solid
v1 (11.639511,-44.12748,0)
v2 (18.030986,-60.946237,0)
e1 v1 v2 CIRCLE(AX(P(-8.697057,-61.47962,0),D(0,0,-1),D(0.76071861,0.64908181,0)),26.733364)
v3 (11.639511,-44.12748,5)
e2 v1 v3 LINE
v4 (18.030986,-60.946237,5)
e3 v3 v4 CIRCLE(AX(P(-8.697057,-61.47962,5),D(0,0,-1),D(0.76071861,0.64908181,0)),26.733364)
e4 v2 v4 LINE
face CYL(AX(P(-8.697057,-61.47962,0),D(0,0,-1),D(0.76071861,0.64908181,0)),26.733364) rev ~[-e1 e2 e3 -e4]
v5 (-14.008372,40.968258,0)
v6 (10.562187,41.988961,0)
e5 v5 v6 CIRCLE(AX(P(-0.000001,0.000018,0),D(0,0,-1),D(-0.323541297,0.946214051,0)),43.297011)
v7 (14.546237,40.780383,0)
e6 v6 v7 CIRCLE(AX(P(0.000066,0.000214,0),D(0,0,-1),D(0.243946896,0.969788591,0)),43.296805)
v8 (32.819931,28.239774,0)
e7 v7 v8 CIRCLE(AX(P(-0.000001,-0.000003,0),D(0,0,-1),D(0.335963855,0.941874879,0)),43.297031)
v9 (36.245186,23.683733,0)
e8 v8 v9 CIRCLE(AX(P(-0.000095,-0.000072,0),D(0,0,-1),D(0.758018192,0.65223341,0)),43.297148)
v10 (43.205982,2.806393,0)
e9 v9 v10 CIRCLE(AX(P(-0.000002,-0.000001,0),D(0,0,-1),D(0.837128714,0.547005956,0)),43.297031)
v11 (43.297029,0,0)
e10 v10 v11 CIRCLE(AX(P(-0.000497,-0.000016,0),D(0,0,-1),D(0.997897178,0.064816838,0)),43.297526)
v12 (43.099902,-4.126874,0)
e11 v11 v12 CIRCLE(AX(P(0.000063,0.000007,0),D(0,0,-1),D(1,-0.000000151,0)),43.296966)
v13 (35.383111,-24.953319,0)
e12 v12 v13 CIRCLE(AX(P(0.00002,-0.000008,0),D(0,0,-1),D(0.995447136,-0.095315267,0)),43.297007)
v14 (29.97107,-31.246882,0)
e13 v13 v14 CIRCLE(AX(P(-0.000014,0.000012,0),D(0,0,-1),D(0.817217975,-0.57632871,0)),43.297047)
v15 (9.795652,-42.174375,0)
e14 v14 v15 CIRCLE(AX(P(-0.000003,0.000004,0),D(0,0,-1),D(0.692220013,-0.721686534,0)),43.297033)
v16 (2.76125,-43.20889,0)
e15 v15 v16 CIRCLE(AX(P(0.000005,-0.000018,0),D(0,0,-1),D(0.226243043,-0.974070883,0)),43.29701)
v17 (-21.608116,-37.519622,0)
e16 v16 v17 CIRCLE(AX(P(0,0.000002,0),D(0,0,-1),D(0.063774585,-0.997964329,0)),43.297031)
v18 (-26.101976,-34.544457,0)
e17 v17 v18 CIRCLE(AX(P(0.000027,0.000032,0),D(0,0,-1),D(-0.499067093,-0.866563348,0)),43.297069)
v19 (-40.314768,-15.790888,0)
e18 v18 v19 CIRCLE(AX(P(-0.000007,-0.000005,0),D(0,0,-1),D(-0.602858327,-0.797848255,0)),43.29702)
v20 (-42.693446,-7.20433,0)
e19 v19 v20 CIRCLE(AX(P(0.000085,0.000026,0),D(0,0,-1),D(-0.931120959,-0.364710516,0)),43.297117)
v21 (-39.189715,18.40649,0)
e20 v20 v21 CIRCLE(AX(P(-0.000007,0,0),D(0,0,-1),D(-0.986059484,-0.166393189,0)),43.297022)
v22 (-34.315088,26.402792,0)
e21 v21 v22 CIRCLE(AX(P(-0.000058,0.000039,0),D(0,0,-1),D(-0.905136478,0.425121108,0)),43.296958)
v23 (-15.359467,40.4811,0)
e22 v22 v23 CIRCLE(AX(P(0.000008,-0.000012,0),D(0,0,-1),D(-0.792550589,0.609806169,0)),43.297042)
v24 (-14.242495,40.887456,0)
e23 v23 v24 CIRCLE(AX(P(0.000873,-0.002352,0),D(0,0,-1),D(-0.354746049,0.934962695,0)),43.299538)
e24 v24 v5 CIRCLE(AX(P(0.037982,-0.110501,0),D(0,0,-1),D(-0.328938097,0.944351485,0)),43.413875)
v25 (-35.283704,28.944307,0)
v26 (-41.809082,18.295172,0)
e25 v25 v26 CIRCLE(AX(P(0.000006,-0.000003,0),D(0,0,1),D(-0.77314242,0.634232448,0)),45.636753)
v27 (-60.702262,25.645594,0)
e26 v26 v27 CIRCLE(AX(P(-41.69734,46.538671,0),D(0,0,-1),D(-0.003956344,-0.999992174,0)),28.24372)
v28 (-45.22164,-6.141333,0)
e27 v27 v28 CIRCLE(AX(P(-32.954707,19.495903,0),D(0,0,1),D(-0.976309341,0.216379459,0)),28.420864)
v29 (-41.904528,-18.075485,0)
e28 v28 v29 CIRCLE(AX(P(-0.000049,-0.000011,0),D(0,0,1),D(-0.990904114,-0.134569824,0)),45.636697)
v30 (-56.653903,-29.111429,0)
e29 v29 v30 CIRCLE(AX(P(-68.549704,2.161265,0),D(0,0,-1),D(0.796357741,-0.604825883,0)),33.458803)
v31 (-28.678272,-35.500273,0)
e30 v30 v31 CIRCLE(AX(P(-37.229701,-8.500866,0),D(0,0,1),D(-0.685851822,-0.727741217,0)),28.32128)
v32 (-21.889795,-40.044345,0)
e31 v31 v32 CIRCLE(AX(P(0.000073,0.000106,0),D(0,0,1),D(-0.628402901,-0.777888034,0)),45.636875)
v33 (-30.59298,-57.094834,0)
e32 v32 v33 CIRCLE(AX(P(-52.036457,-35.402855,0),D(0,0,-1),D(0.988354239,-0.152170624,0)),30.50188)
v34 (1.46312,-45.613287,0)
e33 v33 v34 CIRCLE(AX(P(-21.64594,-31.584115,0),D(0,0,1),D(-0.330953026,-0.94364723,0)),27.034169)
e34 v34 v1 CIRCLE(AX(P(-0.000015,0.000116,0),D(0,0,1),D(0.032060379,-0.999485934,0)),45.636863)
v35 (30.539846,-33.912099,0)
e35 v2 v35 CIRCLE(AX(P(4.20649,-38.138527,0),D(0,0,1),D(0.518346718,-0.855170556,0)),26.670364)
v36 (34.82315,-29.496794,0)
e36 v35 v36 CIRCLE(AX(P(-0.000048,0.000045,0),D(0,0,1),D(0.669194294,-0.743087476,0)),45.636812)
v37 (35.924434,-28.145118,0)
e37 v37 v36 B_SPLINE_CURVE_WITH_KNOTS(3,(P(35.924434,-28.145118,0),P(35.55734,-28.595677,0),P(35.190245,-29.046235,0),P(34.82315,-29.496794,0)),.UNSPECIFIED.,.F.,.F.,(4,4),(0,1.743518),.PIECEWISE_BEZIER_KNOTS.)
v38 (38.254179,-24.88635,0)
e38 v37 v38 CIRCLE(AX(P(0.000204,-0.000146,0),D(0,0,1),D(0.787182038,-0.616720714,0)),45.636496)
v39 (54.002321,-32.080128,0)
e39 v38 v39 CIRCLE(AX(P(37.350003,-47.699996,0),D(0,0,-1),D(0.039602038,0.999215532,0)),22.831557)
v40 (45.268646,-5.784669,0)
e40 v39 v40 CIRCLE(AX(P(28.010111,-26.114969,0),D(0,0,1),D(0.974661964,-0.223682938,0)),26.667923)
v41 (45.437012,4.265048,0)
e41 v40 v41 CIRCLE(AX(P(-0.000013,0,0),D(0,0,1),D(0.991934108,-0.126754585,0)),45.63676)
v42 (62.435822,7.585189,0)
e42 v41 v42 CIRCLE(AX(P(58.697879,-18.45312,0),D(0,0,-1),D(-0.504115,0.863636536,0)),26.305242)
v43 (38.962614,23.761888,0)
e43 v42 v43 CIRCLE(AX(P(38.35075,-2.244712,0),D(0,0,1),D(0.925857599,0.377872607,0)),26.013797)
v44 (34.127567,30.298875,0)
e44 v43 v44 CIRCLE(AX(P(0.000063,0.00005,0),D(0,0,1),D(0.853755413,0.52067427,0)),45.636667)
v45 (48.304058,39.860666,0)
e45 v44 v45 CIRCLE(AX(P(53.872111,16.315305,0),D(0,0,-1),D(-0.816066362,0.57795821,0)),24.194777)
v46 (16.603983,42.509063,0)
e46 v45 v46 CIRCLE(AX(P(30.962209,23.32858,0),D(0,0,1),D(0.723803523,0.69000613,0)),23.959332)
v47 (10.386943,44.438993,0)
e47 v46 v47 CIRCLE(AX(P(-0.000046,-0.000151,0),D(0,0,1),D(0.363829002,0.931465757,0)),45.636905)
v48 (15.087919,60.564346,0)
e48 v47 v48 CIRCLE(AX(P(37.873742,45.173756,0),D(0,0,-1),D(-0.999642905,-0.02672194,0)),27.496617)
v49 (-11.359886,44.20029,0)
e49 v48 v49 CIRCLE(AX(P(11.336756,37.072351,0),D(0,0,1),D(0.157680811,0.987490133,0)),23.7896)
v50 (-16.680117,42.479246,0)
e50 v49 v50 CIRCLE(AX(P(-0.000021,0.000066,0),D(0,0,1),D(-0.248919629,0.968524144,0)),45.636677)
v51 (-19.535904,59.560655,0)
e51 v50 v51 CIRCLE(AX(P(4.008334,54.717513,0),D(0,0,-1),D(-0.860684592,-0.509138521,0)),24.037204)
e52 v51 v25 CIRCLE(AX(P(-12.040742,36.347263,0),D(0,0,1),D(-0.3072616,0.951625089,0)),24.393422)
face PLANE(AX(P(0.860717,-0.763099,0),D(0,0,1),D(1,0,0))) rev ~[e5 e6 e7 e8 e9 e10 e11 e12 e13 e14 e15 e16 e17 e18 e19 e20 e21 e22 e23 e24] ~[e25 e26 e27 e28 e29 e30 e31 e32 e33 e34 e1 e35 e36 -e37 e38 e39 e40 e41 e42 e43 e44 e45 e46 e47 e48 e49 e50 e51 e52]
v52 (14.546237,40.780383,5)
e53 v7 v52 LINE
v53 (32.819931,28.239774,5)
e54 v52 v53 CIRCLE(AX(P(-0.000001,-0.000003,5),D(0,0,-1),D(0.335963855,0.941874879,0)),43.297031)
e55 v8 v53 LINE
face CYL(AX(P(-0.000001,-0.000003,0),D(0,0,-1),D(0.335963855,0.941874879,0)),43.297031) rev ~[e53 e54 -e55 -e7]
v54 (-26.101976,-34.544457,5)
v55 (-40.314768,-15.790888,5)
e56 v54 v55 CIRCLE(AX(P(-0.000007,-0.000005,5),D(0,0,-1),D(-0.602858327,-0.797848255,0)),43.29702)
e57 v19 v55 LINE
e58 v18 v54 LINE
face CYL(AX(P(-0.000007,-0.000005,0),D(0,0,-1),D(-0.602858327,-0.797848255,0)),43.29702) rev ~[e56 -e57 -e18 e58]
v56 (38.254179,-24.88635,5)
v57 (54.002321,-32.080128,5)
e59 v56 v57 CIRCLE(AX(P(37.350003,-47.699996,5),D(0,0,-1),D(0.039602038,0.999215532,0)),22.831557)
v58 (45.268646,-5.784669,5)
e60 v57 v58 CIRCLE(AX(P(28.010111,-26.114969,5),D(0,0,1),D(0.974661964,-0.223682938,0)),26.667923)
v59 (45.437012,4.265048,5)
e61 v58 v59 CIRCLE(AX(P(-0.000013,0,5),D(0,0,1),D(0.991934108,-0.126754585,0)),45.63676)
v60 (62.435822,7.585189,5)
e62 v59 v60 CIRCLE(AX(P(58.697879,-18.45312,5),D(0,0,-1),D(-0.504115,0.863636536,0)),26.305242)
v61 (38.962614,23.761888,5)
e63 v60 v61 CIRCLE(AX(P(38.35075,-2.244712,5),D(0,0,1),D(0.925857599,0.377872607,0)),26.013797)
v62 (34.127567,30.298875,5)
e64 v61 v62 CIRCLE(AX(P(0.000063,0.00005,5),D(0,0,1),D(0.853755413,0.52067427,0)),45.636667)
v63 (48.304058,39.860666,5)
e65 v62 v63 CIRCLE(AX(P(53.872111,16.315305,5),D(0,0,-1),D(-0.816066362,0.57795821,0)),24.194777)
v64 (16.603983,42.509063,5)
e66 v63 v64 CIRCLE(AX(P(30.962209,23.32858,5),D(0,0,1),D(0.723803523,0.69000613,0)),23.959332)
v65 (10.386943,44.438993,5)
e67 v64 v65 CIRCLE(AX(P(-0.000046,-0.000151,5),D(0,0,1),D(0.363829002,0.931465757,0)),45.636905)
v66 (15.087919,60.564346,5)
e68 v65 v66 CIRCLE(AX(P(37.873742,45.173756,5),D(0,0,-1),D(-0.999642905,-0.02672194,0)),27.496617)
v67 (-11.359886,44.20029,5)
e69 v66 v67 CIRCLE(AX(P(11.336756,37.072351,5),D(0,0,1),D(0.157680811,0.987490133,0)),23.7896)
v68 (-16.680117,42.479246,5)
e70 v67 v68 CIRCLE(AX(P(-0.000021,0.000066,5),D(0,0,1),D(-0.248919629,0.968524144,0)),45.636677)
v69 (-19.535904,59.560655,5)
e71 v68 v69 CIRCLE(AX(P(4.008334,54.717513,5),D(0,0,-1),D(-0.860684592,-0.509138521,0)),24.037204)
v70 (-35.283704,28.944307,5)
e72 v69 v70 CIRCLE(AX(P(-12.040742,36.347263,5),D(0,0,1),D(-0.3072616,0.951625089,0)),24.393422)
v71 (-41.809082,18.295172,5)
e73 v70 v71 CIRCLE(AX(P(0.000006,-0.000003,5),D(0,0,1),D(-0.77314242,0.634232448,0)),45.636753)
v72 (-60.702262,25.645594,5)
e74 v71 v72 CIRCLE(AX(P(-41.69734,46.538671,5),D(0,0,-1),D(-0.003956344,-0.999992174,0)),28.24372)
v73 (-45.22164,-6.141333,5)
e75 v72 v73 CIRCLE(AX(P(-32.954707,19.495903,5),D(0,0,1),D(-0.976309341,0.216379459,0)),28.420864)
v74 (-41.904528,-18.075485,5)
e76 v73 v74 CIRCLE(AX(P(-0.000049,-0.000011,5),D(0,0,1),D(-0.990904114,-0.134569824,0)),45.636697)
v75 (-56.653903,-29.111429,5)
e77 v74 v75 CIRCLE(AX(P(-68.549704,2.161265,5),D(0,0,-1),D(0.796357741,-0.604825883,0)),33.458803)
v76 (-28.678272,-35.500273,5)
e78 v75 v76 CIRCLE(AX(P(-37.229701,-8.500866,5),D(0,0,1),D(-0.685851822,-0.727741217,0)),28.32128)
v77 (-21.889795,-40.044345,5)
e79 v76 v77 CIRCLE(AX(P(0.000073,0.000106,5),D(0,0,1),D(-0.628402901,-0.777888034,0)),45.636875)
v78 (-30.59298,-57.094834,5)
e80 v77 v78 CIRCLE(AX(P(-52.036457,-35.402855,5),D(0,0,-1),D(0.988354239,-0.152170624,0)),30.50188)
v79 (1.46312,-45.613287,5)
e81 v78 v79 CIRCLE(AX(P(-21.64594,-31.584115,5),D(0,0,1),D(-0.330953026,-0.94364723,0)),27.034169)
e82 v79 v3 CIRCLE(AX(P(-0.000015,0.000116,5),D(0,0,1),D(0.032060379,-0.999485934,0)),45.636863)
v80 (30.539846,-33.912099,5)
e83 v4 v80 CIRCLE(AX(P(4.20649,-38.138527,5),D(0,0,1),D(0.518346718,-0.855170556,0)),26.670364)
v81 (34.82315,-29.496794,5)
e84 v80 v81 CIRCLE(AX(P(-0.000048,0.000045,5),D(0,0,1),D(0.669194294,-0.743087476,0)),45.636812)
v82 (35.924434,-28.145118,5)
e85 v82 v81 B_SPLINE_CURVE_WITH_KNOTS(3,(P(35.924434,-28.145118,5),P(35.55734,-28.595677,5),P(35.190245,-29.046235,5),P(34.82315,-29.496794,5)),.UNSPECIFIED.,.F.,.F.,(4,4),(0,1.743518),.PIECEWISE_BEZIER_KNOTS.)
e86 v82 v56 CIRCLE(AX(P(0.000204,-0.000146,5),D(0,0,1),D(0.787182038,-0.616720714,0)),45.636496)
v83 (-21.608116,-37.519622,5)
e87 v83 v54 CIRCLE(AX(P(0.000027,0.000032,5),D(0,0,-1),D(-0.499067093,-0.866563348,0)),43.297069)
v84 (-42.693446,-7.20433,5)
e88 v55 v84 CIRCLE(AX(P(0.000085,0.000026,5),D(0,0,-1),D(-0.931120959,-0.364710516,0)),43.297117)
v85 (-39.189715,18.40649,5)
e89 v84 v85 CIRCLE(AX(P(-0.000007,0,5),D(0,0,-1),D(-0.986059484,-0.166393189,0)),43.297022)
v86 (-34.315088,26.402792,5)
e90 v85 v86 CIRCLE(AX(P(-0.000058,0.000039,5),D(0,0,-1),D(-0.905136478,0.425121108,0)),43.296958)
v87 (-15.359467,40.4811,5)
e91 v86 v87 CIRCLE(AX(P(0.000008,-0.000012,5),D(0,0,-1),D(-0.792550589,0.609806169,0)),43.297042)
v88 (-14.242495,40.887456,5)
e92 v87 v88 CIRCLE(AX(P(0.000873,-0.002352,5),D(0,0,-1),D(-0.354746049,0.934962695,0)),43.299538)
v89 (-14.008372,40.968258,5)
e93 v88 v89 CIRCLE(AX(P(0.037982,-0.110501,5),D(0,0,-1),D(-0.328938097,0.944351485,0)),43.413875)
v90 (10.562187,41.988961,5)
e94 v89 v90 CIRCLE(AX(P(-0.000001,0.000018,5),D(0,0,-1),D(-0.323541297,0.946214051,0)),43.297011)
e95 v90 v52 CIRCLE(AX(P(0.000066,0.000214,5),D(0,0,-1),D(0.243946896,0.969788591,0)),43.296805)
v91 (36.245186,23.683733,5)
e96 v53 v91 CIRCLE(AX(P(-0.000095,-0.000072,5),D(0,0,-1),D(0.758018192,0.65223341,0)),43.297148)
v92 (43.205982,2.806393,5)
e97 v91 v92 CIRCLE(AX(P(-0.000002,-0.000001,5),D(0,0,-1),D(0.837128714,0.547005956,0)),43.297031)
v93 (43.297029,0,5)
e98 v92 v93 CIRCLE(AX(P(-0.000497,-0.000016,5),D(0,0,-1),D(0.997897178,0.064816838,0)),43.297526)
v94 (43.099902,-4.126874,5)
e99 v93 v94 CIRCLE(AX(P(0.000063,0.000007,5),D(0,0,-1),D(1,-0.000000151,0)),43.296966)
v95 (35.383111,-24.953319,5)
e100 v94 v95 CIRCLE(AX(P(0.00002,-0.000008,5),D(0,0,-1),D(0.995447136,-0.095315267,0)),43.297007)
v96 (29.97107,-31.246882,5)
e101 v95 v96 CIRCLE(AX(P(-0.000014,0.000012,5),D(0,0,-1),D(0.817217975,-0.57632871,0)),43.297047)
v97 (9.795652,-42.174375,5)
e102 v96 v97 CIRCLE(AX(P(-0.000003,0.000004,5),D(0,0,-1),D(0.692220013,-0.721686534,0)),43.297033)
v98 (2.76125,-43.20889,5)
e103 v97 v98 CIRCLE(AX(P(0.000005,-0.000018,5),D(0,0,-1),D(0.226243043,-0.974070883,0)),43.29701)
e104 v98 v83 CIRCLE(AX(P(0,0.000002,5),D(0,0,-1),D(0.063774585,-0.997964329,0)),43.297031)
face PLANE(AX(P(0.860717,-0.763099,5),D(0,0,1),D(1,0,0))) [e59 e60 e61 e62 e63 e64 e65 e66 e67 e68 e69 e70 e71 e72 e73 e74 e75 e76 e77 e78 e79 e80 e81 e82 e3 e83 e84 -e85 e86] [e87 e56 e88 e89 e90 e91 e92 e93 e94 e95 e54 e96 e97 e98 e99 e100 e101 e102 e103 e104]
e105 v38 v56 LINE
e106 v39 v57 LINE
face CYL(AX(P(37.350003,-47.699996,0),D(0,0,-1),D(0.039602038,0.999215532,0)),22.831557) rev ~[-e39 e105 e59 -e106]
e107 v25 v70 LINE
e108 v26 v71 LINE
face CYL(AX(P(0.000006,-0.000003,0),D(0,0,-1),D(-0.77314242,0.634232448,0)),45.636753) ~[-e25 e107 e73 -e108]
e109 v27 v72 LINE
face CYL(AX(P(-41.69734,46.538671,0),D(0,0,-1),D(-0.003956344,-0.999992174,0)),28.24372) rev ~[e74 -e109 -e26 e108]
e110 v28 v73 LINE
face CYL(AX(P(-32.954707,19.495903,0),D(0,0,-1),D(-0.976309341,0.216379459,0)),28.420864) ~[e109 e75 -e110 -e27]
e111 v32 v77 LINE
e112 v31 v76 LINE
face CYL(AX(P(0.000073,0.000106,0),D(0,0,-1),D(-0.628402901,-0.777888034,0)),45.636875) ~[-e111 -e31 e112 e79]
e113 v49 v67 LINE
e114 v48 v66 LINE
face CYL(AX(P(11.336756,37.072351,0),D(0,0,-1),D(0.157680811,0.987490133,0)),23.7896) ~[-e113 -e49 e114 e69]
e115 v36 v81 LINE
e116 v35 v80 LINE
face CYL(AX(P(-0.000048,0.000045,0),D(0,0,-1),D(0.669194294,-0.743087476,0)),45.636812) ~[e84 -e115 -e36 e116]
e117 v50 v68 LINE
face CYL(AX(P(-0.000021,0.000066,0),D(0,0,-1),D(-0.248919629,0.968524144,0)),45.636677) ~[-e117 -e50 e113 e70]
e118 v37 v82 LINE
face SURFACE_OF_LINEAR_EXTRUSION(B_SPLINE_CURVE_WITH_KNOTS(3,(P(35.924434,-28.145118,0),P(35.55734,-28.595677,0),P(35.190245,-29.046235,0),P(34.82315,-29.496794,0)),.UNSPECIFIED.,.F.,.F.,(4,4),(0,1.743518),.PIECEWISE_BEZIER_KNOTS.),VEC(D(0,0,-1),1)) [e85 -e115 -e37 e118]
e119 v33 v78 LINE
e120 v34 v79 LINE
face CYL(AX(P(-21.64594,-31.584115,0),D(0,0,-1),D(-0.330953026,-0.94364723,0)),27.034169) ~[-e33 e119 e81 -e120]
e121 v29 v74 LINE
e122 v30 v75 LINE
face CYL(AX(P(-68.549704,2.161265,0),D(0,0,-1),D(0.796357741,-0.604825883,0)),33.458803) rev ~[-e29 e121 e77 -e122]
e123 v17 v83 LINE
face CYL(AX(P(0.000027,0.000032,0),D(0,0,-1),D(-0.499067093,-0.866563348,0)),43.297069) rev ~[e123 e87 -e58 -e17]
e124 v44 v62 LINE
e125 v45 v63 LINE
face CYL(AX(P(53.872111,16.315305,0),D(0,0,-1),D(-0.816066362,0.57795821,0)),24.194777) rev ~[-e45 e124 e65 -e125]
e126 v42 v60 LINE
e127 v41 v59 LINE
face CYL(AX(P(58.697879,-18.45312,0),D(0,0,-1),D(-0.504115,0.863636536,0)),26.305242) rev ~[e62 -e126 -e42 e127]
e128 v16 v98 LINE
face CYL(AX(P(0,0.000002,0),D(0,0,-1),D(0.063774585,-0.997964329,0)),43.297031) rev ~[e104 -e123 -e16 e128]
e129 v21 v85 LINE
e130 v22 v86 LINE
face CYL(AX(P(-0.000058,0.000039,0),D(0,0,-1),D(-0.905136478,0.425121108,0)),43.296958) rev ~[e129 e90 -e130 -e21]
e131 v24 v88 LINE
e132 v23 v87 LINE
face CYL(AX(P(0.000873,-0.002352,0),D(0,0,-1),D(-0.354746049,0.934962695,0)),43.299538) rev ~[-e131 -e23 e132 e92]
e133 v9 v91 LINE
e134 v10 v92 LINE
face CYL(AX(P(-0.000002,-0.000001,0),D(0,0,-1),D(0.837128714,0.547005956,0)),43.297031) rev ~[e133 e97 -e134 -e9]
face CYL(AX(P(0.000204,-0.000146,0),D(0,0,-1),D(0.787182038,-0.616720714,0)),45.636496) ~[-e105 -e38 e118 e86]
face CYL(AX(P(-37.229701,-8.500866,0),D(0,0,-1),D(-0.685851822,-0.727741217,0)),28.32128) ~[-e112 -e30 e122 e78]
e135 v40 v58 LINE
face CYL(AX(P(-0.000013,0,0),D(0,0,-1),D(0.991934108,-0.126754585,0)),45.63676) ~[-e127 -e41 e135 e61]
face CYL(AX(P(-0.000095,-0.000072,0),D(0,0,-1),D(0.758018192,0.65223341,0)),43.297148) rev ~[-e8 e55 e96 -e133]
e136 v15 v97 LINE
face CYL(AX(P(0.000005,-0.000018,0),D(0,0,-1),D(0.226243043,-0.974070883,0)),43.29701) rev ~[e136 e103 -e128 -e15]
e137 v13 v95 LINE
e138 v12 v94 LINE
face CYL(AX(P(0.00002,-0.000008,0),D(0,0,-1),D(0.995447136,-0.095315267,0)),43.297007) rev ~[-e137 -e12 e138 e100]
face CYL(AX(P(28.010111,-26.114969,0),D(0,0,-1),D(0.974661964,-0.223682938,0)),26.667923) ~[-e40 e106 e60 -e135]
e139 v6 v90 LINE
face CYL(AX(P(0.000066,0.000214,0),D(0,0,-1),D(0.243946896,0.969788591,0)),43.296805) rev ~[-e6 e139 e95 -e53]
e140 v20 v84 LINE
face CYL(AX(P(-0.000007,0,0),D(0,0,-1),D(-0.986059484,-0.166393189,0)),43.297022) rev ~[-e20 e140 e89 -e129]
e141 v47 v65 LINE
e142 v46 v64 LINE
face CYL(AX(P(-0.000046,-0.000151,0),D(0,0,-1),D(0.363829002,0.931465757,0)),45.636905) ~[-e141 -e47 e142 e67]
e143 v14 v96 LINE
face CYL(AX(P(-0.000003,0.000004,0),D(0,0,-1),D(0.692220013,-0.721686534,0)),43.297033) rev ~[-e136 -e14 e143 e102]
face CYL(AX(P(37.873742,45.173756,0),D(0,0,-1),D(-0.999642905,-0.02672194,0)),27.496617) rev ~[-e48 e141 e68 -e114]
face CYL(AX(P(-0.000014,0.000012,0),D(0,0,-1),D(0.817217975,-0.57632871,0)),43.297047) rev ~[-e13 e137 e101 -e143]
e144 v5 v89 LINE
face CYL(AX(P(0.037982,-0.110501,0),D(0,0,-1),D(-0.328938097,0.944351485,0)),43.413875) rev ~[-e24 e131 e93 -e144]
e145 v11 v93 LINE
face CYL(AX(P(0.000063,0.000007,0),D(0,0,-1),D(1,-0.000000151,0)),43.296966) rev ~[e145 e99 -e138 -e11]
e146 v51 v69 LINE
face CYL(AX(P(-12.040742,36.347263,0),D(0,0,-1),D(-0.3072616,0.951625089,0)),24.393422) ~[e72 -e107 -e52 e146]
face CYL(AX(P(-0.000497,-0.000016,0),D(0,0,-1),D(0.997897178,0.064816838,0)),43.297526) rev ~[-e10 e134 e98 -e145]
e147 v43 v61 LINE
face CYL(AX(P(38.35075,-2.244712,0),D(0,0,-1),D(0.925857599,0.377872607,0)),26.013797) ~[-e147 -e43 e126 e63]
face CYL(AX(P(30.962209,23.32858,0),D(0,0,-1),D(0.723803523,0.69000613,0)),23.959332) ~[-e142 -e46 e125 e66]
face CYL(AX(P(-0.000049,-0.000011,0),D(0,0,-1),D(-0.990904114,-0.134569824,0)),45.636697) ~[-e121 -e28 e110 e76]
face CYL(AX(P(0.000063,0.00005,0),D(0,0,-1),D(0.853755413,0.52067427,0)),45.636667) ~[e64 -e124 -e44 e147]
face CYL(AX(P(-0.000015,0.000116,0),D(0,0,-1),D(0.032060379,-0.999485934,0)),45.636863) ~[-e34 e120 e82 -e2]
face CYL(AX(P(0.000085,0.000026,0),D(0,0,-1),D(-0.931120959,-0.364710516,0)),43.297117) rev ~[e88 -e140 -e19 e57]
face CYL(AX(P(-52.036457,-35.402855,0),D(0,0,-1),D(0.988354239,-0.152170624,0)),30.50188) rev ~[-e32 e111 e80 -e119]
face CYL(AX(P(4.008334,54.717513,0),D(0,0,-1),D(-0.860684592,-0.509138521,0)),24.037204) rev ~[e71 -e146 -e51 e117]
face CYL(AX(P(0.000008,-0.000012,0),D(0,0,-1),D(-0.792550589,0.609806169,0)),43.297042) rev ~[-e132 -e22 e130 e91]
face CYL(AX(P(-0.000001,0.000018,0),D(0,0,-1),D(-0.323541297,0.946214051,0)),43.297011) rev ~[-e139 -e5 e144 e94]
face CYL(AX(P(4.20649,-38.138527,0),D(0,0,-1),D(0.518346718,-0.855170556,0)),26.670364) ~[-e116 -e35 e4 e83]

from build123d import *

# Parameters (mm, degrees)
F1_DEPTH = 5


with BuildPart() as f1:
    # F0 (on Top) → F1 (new body)
    with BuildSketch(Plane.XY):
        with BuildLine():
            ThreePointArc((38.502261, -1.597772), (40.718756, 0.748882), (43.205982, 2.806393))
            ThreePointArc((43.205982, 2.806393), (41.074175, 13.694702), (36.245186, 23.683733))
            ThreePointArc((36.245186, 23.683733), (34.607614, 26.018181), (32.819931, 28.239774))
            ThreePointArc((32.819931, 28.239774), (24.499086, 35.699124), (14.546237, 40.780383))
            ThreePointArc((14.546237, 40.780383), (12.950133, 39.127779), (11.519659, 37.329894))
            ThreePointArc((11.519659, 37.329894), (10.939992, 39.638686), (10.562187, 41.988961))
            ThreePointArc((10.562187, 41.988961), (-1.797083, 43.259718), (-14.008372, 40.968258))
            ThreePointArc((-14.008372, 40.968258), (-14.033128, 40.846587), (-14.058419, 40.725026))
            ThreePointArc((-14.058419, 40.725026), (-14.150281, 40.80644), (-14.242495, 40.887456))
            ThreePointArc((-14.242495, 40.887456), (-14.802375, 40.688111), (-15.359467, 40.4811))
            ThreePointArc((-15.359467, 40.4811), (-25.8155, 34.759065), (-34.315088, 26.402792))
            ThreePointArc((-34.315088, 26.402792), (-36.969234, 22.536824), (-39.189715, 18.40649))
            ThreePointArc((-39.189715, 18.40649), (-42.897454, 5.868657), (-42.693446, -7.20433))
            ThreePointArc((-42.693446, -7.20433), (-41.725569, -11.558959), (-40.314768, -15.790888))
            ThreePointArc((-40.314768, -15.790888), (-34.506812, -26.151723), (-26.101976, -34.544457))
            ThreePointArc((-26.101976, -34.544457), (-23.851243, -33.463072), (-21.70451, -32.187641))
            ThreePointArc((-21.70451, -32.187641), (-21.539561, -34.851521), (-21.608116, -37.519622))
            ThreePointArc((-21.608116, -37.519622), (-9.843426, -42.16325), (2.76125, -43.20889))
            ThreePointArc((2.76125, -43.20889), (3.776863, -40.777994), (4.55104, -38.259785))
            ThreePointArc((4.55104, -38.259785), (7.293587, -40.055986), (9.795652, -42.174375))
            ThreePointArc((9.795652, -42.174375), (20.620392, -38.071408), (29.97107, -31.246882))
            ThreePointArc((29.97107, -31.246882), (29.244852, -28.952192), (28.314719, -26.732316))
            ThreePointArc((28.314719, -26.732316), (31.777465, -25.55893), (35.383111, -24.953319))
            ThreePointArc((35.383111, -24.953319), (40.599644, -15.043325), (43.099902, -4.126874))
            ThreePointArc((43.099902, -4.126874), (40.863438, -2.748966), (38.502261, -1.597772))
        make_face()
        with BuildLine():
            ThreePointArc((11.090625, 36.944765), (11.091742, 36.830639), (11.092309, 36.716508))
            ThreePointArc((11.092309, 36.716508), (11.076055, 36.692352), (11.059829, 36.668176))
            ThreePointArc((11.059829, 36.668176), (11.075017, 36.806494), (11.090625, 36.944765))
        make_face(mode=Mode.SUBTRACT)
        with BuildLine():
            add(Edge.make_bspline(
                [(35.924434, -28.145118), (35.55734, -28.595677), (35.190245, -29.046235), (34.82315, -29.496794)],
                knots=[0, 0, 0, 0, 1.743518, 1.743518, 1.743518, 1.743518], degree=3))
            ThreePointArc((35.924434, -28.145118), (37.12508, -26.541309), (38.254179, -24.88635))
            ThreePointArc((38.254179, -24.88635), (42.839633, -15.731451), (45.268646, -5.784669))
            ThreePointArc((45.268646, -5.784669), (45.630344, -0.76446), (45.437012, 4.265048))
            ThreePointArc((45.437012, 4.265048), (43.311152, 14.382515), (38.962614, 23.761888))
            ThreePointArc((38.962614, 23.761888), (36.690962, 27.138275), (34.127567, 30.298875))
            ThreePointArc((34.127567, 30.298875), (26.090127, 37.44353), (16.603983, 42.509063))
            ThreePointArc((16.603983, 42.509063), (13.529918, 43.58502), (10.386943, 44.438993))
            ThreePointArc((10.386943, 44.438993), (-0.500898, 45.633998), (-11.359886, 44.20029))
            ThreePointArc((-11.359886, 44.20029), (-14.046385, 43.421328), (-16.680117, 42.479246))
            ThreePointArc((-16.680117, 42.479246), (-26.848804, 36.903311), (-35.283704, 28.944307))
            ThreePointArc((-35.283704, 28.944307), (-38.912407, 23.844019), (-41.809082, 18.295172))
            ThreePointArc((-41.809082, 18.295172), (-45.198145, 6.31192), (-45.22164, -6.141333))
            ThreePointArc((-45.22164, -6.141333), (-43.969857, -12.221472), (-41.904528, -18.075485))
            ThreePointArc((-41.904528, -18.075485), (-36.350911, -27.592099), (-28.678272, -35.500273))
            ThreePointArc((-28.678272, -35.500273), (-25.385911, -37.924506), (-21.889795, -40.044345))
            ThreePointArc((-21.889795, -40.044345), (-10.586101, -44.391971), (1.46312, -45.613287))
            ThreePointArc((1.46312, -45.613287), (6.593302, -45.157956), (11.639511, -44.12748))
            ThreePointArc((11.639511, -44.12748), (21.699379, -40.147847), (30.539846, -33.912099))
            ThreePointArc((30.539846, -33.912099), (32.755977, -31.776699), (34.82315, -29.496794))
        make_face()
        with BuildLine():
            ThreePointArc((43.205982, 2.806393), (43.274261, 1.403935), (43.297029, 0))
            ThreePointArc((43.297029, 0), (43.247719, -2.06579), (43.099902, -4.126874))
            ThreePointArc((43.099902, -4.126874), (40.599644, -15.043325), (35.383111, -24.953319))
            ThreePointArc((35.383111, -24.953319), (32.828257, -28.230094), (29.97107, -31.246882))
            ThreePointArc((29.97107, -31.246882), (20.620392, -38.071408), (9.795652, -42.174375))
            ThreePointArc((9.795652, -42.174375), (6.299722, -42.836272), (2.76125, -43.20889))
            ThreePointArc((2.76125, -43.20889), (-9.843426, -42.16325), (-21.608116, -37.519622))
            ThreePointArc((-21.608116, -37.519622), (-23.901383, -36.10203), (-26.101976, -34.544457))
            ThreePointArc((-26.101976, -34.544457), (-34.506812, -26.151723), (-40.314768, -15.790888))
            ThreePointArc((-40.314768, -15.790888), (-41.725569, -11.558959), (-42.693446, -7.20433))
            ThreePointArc((-42.693446, -7.20433), (-42.897454, 5.868657), (-39.189715, 18.40649))
            ThreePointArc((-39.189715, 18.40649), (-36.969234, 22.536824), (-34.315088, 26.402792))
            ThreePointArc((-34.315088, 26.402792), (-25.8155, 34.759065), (-15.359467, 40.4811))
            ThreePointArc((-15.359467, 40.4811), (-14.802375, 40.688111), (-14.242495, 40.887456))
            ThreePointArc((-14.242495, 40.887456), (-14.125491, 40.928024), (-14.008372, 40.968258))
            ThreePointArc((-14.008372, 40.968258), (-1.797083, 43.259718), (10.562187, 41.988961))
            ThreePointArc((10.562187, 41.988961), (12.568747, 41.432587), (14.546237, 40.780383))
            ThreePointArc((14.546237, 40.780383), (24.499086, 35.699124), (32.819931, 28.239774))
            ThreePointArc((32.819931, 28.239774), (34.607614, 26.018181), (36.245186, 23.683733))
            ThreePointArc((36.245186, 23.683733), (41.074175, 13.694702), (43.205982, 2.806393))
        make_face(mode=Mode.SUBTRACT)
        with BuildLine():
            ThreePointArc((45.268646, -5.784669), (42.839633, -15.731451), (38.254179, -24.88635))
            ThreePointArc((38.254179, -24.88635), (46.836585, -26.9326), (54.002321, -32.080128))
            ThreePointArc((54.002321, -32.080128), (53.318598, -17.709102), (45.268646, -5.784669))
        make_face()
        with BuildLine():
            ThreePointArc((18.030986, -60.946237), (28.411333, -49.338255), (30.539846, -33.912099))
            ThreePointArc((30.539846, -33.912099), (21.699379, -40.147847), (11.639511, -44.12748))
            ThreePointArc((11.639511, -44.12748), (16.292682, -51.983004), (18.030986, -60.946237))
        make_face()
        with BuildLine():
            ThreePointArc((38.962614, 23.761888), (43.311152, 14.382515), (45.437012, 4.265048))
            ThreePointArc((45.437012, 4.265048), (53.655325, 7.364285), (62.435822, 7.585189))
            ThreePointArc((62.435822, 7.585189), (53.112392, 19.175175), (38.962614, 23.761888))
        make_face()
        with BuildLine():
            ThreePointArc((-30.59298, -57.094834), (-12.530174, -57.035031), (1.46312, -45.613287))
            ThreePointArc((1.46312, -45.613287), (-10.586101, -44.391971), (-21.889795, -40.044345))
            ThreePointArc((-21.889795, -40.044345), (-24.869098, -49.270056), (-30.59298, -57.094834))
        make_face()
        with BuildLine():
            ThreePointArc((16.603983, 42.509063), (26.090127, 37.44353), (34.127567, 30.298875))
            ThreePointArc((34.127567, 30.298875), (40.342926, 36.373929), (48.304058, 39.860666))
            ThreePointArc((48.304058, 39.860666), (32.956953, 47.204731), (16.603983, 42.509063))
        make_face()
        with BuildLine():
            ThreePointArc((-56.653903, -29.111429), (-43.535146, -36.111304), (-28.678272, -35.500273))
            ThreePointArc((-28.678272, -35.500273), (-36.350911, -27.592099), (-41.904528, -18.075485))
            ThreePointArc((-41.904528, -18.075485), (-48.504761, -24.628504), (-56.653903, -29.111429))
        make_face()
        with BuildLine():
            ThreePointArc((-11.359886, 44.20029), (-0.500898, 45.633998), (10.386943, 44.438993))
            ThreePointArc((10.386943, 44.438993), (11.475998, 52.869411), (15.087919, 60.564346))
            ThreePointArc((15.087919, 60.564346), (-1.180367, 57.302692), (-11.359886, 44.20029))
        make_face()
        with BuildLine():
            ThreePointArc((-60.702262, 25.645594), (-58.506458, 7.051887), (-45.22164, -6.141333))
            ThreePointArc((-45.22164, -6.141333), (-45.198145, 6.31192), (-41.809082, 18.295172))
            ThreePointArc((-41.809082, 18.295172), (-51.937891, 20.216839), (-60.702262, 25.645594))
        make_face()
        with BuildLine():
            ThreePointArc((-35.283704, 28.944307), (-26.848804, 36.903311), (-16.680117, 42.479246))
            ThreePointArc((-16.680117, 42.479246), (-19.699815, 50.753822), (-19.535904, 59.560655))
            ThreePointArc((-19.535904, 59.560655), (-33.732866, 47.504807), (-35.283704, 28.944307))
        make_face()
    extrude(amount=F1_DEPTH)


solid = f1.part
